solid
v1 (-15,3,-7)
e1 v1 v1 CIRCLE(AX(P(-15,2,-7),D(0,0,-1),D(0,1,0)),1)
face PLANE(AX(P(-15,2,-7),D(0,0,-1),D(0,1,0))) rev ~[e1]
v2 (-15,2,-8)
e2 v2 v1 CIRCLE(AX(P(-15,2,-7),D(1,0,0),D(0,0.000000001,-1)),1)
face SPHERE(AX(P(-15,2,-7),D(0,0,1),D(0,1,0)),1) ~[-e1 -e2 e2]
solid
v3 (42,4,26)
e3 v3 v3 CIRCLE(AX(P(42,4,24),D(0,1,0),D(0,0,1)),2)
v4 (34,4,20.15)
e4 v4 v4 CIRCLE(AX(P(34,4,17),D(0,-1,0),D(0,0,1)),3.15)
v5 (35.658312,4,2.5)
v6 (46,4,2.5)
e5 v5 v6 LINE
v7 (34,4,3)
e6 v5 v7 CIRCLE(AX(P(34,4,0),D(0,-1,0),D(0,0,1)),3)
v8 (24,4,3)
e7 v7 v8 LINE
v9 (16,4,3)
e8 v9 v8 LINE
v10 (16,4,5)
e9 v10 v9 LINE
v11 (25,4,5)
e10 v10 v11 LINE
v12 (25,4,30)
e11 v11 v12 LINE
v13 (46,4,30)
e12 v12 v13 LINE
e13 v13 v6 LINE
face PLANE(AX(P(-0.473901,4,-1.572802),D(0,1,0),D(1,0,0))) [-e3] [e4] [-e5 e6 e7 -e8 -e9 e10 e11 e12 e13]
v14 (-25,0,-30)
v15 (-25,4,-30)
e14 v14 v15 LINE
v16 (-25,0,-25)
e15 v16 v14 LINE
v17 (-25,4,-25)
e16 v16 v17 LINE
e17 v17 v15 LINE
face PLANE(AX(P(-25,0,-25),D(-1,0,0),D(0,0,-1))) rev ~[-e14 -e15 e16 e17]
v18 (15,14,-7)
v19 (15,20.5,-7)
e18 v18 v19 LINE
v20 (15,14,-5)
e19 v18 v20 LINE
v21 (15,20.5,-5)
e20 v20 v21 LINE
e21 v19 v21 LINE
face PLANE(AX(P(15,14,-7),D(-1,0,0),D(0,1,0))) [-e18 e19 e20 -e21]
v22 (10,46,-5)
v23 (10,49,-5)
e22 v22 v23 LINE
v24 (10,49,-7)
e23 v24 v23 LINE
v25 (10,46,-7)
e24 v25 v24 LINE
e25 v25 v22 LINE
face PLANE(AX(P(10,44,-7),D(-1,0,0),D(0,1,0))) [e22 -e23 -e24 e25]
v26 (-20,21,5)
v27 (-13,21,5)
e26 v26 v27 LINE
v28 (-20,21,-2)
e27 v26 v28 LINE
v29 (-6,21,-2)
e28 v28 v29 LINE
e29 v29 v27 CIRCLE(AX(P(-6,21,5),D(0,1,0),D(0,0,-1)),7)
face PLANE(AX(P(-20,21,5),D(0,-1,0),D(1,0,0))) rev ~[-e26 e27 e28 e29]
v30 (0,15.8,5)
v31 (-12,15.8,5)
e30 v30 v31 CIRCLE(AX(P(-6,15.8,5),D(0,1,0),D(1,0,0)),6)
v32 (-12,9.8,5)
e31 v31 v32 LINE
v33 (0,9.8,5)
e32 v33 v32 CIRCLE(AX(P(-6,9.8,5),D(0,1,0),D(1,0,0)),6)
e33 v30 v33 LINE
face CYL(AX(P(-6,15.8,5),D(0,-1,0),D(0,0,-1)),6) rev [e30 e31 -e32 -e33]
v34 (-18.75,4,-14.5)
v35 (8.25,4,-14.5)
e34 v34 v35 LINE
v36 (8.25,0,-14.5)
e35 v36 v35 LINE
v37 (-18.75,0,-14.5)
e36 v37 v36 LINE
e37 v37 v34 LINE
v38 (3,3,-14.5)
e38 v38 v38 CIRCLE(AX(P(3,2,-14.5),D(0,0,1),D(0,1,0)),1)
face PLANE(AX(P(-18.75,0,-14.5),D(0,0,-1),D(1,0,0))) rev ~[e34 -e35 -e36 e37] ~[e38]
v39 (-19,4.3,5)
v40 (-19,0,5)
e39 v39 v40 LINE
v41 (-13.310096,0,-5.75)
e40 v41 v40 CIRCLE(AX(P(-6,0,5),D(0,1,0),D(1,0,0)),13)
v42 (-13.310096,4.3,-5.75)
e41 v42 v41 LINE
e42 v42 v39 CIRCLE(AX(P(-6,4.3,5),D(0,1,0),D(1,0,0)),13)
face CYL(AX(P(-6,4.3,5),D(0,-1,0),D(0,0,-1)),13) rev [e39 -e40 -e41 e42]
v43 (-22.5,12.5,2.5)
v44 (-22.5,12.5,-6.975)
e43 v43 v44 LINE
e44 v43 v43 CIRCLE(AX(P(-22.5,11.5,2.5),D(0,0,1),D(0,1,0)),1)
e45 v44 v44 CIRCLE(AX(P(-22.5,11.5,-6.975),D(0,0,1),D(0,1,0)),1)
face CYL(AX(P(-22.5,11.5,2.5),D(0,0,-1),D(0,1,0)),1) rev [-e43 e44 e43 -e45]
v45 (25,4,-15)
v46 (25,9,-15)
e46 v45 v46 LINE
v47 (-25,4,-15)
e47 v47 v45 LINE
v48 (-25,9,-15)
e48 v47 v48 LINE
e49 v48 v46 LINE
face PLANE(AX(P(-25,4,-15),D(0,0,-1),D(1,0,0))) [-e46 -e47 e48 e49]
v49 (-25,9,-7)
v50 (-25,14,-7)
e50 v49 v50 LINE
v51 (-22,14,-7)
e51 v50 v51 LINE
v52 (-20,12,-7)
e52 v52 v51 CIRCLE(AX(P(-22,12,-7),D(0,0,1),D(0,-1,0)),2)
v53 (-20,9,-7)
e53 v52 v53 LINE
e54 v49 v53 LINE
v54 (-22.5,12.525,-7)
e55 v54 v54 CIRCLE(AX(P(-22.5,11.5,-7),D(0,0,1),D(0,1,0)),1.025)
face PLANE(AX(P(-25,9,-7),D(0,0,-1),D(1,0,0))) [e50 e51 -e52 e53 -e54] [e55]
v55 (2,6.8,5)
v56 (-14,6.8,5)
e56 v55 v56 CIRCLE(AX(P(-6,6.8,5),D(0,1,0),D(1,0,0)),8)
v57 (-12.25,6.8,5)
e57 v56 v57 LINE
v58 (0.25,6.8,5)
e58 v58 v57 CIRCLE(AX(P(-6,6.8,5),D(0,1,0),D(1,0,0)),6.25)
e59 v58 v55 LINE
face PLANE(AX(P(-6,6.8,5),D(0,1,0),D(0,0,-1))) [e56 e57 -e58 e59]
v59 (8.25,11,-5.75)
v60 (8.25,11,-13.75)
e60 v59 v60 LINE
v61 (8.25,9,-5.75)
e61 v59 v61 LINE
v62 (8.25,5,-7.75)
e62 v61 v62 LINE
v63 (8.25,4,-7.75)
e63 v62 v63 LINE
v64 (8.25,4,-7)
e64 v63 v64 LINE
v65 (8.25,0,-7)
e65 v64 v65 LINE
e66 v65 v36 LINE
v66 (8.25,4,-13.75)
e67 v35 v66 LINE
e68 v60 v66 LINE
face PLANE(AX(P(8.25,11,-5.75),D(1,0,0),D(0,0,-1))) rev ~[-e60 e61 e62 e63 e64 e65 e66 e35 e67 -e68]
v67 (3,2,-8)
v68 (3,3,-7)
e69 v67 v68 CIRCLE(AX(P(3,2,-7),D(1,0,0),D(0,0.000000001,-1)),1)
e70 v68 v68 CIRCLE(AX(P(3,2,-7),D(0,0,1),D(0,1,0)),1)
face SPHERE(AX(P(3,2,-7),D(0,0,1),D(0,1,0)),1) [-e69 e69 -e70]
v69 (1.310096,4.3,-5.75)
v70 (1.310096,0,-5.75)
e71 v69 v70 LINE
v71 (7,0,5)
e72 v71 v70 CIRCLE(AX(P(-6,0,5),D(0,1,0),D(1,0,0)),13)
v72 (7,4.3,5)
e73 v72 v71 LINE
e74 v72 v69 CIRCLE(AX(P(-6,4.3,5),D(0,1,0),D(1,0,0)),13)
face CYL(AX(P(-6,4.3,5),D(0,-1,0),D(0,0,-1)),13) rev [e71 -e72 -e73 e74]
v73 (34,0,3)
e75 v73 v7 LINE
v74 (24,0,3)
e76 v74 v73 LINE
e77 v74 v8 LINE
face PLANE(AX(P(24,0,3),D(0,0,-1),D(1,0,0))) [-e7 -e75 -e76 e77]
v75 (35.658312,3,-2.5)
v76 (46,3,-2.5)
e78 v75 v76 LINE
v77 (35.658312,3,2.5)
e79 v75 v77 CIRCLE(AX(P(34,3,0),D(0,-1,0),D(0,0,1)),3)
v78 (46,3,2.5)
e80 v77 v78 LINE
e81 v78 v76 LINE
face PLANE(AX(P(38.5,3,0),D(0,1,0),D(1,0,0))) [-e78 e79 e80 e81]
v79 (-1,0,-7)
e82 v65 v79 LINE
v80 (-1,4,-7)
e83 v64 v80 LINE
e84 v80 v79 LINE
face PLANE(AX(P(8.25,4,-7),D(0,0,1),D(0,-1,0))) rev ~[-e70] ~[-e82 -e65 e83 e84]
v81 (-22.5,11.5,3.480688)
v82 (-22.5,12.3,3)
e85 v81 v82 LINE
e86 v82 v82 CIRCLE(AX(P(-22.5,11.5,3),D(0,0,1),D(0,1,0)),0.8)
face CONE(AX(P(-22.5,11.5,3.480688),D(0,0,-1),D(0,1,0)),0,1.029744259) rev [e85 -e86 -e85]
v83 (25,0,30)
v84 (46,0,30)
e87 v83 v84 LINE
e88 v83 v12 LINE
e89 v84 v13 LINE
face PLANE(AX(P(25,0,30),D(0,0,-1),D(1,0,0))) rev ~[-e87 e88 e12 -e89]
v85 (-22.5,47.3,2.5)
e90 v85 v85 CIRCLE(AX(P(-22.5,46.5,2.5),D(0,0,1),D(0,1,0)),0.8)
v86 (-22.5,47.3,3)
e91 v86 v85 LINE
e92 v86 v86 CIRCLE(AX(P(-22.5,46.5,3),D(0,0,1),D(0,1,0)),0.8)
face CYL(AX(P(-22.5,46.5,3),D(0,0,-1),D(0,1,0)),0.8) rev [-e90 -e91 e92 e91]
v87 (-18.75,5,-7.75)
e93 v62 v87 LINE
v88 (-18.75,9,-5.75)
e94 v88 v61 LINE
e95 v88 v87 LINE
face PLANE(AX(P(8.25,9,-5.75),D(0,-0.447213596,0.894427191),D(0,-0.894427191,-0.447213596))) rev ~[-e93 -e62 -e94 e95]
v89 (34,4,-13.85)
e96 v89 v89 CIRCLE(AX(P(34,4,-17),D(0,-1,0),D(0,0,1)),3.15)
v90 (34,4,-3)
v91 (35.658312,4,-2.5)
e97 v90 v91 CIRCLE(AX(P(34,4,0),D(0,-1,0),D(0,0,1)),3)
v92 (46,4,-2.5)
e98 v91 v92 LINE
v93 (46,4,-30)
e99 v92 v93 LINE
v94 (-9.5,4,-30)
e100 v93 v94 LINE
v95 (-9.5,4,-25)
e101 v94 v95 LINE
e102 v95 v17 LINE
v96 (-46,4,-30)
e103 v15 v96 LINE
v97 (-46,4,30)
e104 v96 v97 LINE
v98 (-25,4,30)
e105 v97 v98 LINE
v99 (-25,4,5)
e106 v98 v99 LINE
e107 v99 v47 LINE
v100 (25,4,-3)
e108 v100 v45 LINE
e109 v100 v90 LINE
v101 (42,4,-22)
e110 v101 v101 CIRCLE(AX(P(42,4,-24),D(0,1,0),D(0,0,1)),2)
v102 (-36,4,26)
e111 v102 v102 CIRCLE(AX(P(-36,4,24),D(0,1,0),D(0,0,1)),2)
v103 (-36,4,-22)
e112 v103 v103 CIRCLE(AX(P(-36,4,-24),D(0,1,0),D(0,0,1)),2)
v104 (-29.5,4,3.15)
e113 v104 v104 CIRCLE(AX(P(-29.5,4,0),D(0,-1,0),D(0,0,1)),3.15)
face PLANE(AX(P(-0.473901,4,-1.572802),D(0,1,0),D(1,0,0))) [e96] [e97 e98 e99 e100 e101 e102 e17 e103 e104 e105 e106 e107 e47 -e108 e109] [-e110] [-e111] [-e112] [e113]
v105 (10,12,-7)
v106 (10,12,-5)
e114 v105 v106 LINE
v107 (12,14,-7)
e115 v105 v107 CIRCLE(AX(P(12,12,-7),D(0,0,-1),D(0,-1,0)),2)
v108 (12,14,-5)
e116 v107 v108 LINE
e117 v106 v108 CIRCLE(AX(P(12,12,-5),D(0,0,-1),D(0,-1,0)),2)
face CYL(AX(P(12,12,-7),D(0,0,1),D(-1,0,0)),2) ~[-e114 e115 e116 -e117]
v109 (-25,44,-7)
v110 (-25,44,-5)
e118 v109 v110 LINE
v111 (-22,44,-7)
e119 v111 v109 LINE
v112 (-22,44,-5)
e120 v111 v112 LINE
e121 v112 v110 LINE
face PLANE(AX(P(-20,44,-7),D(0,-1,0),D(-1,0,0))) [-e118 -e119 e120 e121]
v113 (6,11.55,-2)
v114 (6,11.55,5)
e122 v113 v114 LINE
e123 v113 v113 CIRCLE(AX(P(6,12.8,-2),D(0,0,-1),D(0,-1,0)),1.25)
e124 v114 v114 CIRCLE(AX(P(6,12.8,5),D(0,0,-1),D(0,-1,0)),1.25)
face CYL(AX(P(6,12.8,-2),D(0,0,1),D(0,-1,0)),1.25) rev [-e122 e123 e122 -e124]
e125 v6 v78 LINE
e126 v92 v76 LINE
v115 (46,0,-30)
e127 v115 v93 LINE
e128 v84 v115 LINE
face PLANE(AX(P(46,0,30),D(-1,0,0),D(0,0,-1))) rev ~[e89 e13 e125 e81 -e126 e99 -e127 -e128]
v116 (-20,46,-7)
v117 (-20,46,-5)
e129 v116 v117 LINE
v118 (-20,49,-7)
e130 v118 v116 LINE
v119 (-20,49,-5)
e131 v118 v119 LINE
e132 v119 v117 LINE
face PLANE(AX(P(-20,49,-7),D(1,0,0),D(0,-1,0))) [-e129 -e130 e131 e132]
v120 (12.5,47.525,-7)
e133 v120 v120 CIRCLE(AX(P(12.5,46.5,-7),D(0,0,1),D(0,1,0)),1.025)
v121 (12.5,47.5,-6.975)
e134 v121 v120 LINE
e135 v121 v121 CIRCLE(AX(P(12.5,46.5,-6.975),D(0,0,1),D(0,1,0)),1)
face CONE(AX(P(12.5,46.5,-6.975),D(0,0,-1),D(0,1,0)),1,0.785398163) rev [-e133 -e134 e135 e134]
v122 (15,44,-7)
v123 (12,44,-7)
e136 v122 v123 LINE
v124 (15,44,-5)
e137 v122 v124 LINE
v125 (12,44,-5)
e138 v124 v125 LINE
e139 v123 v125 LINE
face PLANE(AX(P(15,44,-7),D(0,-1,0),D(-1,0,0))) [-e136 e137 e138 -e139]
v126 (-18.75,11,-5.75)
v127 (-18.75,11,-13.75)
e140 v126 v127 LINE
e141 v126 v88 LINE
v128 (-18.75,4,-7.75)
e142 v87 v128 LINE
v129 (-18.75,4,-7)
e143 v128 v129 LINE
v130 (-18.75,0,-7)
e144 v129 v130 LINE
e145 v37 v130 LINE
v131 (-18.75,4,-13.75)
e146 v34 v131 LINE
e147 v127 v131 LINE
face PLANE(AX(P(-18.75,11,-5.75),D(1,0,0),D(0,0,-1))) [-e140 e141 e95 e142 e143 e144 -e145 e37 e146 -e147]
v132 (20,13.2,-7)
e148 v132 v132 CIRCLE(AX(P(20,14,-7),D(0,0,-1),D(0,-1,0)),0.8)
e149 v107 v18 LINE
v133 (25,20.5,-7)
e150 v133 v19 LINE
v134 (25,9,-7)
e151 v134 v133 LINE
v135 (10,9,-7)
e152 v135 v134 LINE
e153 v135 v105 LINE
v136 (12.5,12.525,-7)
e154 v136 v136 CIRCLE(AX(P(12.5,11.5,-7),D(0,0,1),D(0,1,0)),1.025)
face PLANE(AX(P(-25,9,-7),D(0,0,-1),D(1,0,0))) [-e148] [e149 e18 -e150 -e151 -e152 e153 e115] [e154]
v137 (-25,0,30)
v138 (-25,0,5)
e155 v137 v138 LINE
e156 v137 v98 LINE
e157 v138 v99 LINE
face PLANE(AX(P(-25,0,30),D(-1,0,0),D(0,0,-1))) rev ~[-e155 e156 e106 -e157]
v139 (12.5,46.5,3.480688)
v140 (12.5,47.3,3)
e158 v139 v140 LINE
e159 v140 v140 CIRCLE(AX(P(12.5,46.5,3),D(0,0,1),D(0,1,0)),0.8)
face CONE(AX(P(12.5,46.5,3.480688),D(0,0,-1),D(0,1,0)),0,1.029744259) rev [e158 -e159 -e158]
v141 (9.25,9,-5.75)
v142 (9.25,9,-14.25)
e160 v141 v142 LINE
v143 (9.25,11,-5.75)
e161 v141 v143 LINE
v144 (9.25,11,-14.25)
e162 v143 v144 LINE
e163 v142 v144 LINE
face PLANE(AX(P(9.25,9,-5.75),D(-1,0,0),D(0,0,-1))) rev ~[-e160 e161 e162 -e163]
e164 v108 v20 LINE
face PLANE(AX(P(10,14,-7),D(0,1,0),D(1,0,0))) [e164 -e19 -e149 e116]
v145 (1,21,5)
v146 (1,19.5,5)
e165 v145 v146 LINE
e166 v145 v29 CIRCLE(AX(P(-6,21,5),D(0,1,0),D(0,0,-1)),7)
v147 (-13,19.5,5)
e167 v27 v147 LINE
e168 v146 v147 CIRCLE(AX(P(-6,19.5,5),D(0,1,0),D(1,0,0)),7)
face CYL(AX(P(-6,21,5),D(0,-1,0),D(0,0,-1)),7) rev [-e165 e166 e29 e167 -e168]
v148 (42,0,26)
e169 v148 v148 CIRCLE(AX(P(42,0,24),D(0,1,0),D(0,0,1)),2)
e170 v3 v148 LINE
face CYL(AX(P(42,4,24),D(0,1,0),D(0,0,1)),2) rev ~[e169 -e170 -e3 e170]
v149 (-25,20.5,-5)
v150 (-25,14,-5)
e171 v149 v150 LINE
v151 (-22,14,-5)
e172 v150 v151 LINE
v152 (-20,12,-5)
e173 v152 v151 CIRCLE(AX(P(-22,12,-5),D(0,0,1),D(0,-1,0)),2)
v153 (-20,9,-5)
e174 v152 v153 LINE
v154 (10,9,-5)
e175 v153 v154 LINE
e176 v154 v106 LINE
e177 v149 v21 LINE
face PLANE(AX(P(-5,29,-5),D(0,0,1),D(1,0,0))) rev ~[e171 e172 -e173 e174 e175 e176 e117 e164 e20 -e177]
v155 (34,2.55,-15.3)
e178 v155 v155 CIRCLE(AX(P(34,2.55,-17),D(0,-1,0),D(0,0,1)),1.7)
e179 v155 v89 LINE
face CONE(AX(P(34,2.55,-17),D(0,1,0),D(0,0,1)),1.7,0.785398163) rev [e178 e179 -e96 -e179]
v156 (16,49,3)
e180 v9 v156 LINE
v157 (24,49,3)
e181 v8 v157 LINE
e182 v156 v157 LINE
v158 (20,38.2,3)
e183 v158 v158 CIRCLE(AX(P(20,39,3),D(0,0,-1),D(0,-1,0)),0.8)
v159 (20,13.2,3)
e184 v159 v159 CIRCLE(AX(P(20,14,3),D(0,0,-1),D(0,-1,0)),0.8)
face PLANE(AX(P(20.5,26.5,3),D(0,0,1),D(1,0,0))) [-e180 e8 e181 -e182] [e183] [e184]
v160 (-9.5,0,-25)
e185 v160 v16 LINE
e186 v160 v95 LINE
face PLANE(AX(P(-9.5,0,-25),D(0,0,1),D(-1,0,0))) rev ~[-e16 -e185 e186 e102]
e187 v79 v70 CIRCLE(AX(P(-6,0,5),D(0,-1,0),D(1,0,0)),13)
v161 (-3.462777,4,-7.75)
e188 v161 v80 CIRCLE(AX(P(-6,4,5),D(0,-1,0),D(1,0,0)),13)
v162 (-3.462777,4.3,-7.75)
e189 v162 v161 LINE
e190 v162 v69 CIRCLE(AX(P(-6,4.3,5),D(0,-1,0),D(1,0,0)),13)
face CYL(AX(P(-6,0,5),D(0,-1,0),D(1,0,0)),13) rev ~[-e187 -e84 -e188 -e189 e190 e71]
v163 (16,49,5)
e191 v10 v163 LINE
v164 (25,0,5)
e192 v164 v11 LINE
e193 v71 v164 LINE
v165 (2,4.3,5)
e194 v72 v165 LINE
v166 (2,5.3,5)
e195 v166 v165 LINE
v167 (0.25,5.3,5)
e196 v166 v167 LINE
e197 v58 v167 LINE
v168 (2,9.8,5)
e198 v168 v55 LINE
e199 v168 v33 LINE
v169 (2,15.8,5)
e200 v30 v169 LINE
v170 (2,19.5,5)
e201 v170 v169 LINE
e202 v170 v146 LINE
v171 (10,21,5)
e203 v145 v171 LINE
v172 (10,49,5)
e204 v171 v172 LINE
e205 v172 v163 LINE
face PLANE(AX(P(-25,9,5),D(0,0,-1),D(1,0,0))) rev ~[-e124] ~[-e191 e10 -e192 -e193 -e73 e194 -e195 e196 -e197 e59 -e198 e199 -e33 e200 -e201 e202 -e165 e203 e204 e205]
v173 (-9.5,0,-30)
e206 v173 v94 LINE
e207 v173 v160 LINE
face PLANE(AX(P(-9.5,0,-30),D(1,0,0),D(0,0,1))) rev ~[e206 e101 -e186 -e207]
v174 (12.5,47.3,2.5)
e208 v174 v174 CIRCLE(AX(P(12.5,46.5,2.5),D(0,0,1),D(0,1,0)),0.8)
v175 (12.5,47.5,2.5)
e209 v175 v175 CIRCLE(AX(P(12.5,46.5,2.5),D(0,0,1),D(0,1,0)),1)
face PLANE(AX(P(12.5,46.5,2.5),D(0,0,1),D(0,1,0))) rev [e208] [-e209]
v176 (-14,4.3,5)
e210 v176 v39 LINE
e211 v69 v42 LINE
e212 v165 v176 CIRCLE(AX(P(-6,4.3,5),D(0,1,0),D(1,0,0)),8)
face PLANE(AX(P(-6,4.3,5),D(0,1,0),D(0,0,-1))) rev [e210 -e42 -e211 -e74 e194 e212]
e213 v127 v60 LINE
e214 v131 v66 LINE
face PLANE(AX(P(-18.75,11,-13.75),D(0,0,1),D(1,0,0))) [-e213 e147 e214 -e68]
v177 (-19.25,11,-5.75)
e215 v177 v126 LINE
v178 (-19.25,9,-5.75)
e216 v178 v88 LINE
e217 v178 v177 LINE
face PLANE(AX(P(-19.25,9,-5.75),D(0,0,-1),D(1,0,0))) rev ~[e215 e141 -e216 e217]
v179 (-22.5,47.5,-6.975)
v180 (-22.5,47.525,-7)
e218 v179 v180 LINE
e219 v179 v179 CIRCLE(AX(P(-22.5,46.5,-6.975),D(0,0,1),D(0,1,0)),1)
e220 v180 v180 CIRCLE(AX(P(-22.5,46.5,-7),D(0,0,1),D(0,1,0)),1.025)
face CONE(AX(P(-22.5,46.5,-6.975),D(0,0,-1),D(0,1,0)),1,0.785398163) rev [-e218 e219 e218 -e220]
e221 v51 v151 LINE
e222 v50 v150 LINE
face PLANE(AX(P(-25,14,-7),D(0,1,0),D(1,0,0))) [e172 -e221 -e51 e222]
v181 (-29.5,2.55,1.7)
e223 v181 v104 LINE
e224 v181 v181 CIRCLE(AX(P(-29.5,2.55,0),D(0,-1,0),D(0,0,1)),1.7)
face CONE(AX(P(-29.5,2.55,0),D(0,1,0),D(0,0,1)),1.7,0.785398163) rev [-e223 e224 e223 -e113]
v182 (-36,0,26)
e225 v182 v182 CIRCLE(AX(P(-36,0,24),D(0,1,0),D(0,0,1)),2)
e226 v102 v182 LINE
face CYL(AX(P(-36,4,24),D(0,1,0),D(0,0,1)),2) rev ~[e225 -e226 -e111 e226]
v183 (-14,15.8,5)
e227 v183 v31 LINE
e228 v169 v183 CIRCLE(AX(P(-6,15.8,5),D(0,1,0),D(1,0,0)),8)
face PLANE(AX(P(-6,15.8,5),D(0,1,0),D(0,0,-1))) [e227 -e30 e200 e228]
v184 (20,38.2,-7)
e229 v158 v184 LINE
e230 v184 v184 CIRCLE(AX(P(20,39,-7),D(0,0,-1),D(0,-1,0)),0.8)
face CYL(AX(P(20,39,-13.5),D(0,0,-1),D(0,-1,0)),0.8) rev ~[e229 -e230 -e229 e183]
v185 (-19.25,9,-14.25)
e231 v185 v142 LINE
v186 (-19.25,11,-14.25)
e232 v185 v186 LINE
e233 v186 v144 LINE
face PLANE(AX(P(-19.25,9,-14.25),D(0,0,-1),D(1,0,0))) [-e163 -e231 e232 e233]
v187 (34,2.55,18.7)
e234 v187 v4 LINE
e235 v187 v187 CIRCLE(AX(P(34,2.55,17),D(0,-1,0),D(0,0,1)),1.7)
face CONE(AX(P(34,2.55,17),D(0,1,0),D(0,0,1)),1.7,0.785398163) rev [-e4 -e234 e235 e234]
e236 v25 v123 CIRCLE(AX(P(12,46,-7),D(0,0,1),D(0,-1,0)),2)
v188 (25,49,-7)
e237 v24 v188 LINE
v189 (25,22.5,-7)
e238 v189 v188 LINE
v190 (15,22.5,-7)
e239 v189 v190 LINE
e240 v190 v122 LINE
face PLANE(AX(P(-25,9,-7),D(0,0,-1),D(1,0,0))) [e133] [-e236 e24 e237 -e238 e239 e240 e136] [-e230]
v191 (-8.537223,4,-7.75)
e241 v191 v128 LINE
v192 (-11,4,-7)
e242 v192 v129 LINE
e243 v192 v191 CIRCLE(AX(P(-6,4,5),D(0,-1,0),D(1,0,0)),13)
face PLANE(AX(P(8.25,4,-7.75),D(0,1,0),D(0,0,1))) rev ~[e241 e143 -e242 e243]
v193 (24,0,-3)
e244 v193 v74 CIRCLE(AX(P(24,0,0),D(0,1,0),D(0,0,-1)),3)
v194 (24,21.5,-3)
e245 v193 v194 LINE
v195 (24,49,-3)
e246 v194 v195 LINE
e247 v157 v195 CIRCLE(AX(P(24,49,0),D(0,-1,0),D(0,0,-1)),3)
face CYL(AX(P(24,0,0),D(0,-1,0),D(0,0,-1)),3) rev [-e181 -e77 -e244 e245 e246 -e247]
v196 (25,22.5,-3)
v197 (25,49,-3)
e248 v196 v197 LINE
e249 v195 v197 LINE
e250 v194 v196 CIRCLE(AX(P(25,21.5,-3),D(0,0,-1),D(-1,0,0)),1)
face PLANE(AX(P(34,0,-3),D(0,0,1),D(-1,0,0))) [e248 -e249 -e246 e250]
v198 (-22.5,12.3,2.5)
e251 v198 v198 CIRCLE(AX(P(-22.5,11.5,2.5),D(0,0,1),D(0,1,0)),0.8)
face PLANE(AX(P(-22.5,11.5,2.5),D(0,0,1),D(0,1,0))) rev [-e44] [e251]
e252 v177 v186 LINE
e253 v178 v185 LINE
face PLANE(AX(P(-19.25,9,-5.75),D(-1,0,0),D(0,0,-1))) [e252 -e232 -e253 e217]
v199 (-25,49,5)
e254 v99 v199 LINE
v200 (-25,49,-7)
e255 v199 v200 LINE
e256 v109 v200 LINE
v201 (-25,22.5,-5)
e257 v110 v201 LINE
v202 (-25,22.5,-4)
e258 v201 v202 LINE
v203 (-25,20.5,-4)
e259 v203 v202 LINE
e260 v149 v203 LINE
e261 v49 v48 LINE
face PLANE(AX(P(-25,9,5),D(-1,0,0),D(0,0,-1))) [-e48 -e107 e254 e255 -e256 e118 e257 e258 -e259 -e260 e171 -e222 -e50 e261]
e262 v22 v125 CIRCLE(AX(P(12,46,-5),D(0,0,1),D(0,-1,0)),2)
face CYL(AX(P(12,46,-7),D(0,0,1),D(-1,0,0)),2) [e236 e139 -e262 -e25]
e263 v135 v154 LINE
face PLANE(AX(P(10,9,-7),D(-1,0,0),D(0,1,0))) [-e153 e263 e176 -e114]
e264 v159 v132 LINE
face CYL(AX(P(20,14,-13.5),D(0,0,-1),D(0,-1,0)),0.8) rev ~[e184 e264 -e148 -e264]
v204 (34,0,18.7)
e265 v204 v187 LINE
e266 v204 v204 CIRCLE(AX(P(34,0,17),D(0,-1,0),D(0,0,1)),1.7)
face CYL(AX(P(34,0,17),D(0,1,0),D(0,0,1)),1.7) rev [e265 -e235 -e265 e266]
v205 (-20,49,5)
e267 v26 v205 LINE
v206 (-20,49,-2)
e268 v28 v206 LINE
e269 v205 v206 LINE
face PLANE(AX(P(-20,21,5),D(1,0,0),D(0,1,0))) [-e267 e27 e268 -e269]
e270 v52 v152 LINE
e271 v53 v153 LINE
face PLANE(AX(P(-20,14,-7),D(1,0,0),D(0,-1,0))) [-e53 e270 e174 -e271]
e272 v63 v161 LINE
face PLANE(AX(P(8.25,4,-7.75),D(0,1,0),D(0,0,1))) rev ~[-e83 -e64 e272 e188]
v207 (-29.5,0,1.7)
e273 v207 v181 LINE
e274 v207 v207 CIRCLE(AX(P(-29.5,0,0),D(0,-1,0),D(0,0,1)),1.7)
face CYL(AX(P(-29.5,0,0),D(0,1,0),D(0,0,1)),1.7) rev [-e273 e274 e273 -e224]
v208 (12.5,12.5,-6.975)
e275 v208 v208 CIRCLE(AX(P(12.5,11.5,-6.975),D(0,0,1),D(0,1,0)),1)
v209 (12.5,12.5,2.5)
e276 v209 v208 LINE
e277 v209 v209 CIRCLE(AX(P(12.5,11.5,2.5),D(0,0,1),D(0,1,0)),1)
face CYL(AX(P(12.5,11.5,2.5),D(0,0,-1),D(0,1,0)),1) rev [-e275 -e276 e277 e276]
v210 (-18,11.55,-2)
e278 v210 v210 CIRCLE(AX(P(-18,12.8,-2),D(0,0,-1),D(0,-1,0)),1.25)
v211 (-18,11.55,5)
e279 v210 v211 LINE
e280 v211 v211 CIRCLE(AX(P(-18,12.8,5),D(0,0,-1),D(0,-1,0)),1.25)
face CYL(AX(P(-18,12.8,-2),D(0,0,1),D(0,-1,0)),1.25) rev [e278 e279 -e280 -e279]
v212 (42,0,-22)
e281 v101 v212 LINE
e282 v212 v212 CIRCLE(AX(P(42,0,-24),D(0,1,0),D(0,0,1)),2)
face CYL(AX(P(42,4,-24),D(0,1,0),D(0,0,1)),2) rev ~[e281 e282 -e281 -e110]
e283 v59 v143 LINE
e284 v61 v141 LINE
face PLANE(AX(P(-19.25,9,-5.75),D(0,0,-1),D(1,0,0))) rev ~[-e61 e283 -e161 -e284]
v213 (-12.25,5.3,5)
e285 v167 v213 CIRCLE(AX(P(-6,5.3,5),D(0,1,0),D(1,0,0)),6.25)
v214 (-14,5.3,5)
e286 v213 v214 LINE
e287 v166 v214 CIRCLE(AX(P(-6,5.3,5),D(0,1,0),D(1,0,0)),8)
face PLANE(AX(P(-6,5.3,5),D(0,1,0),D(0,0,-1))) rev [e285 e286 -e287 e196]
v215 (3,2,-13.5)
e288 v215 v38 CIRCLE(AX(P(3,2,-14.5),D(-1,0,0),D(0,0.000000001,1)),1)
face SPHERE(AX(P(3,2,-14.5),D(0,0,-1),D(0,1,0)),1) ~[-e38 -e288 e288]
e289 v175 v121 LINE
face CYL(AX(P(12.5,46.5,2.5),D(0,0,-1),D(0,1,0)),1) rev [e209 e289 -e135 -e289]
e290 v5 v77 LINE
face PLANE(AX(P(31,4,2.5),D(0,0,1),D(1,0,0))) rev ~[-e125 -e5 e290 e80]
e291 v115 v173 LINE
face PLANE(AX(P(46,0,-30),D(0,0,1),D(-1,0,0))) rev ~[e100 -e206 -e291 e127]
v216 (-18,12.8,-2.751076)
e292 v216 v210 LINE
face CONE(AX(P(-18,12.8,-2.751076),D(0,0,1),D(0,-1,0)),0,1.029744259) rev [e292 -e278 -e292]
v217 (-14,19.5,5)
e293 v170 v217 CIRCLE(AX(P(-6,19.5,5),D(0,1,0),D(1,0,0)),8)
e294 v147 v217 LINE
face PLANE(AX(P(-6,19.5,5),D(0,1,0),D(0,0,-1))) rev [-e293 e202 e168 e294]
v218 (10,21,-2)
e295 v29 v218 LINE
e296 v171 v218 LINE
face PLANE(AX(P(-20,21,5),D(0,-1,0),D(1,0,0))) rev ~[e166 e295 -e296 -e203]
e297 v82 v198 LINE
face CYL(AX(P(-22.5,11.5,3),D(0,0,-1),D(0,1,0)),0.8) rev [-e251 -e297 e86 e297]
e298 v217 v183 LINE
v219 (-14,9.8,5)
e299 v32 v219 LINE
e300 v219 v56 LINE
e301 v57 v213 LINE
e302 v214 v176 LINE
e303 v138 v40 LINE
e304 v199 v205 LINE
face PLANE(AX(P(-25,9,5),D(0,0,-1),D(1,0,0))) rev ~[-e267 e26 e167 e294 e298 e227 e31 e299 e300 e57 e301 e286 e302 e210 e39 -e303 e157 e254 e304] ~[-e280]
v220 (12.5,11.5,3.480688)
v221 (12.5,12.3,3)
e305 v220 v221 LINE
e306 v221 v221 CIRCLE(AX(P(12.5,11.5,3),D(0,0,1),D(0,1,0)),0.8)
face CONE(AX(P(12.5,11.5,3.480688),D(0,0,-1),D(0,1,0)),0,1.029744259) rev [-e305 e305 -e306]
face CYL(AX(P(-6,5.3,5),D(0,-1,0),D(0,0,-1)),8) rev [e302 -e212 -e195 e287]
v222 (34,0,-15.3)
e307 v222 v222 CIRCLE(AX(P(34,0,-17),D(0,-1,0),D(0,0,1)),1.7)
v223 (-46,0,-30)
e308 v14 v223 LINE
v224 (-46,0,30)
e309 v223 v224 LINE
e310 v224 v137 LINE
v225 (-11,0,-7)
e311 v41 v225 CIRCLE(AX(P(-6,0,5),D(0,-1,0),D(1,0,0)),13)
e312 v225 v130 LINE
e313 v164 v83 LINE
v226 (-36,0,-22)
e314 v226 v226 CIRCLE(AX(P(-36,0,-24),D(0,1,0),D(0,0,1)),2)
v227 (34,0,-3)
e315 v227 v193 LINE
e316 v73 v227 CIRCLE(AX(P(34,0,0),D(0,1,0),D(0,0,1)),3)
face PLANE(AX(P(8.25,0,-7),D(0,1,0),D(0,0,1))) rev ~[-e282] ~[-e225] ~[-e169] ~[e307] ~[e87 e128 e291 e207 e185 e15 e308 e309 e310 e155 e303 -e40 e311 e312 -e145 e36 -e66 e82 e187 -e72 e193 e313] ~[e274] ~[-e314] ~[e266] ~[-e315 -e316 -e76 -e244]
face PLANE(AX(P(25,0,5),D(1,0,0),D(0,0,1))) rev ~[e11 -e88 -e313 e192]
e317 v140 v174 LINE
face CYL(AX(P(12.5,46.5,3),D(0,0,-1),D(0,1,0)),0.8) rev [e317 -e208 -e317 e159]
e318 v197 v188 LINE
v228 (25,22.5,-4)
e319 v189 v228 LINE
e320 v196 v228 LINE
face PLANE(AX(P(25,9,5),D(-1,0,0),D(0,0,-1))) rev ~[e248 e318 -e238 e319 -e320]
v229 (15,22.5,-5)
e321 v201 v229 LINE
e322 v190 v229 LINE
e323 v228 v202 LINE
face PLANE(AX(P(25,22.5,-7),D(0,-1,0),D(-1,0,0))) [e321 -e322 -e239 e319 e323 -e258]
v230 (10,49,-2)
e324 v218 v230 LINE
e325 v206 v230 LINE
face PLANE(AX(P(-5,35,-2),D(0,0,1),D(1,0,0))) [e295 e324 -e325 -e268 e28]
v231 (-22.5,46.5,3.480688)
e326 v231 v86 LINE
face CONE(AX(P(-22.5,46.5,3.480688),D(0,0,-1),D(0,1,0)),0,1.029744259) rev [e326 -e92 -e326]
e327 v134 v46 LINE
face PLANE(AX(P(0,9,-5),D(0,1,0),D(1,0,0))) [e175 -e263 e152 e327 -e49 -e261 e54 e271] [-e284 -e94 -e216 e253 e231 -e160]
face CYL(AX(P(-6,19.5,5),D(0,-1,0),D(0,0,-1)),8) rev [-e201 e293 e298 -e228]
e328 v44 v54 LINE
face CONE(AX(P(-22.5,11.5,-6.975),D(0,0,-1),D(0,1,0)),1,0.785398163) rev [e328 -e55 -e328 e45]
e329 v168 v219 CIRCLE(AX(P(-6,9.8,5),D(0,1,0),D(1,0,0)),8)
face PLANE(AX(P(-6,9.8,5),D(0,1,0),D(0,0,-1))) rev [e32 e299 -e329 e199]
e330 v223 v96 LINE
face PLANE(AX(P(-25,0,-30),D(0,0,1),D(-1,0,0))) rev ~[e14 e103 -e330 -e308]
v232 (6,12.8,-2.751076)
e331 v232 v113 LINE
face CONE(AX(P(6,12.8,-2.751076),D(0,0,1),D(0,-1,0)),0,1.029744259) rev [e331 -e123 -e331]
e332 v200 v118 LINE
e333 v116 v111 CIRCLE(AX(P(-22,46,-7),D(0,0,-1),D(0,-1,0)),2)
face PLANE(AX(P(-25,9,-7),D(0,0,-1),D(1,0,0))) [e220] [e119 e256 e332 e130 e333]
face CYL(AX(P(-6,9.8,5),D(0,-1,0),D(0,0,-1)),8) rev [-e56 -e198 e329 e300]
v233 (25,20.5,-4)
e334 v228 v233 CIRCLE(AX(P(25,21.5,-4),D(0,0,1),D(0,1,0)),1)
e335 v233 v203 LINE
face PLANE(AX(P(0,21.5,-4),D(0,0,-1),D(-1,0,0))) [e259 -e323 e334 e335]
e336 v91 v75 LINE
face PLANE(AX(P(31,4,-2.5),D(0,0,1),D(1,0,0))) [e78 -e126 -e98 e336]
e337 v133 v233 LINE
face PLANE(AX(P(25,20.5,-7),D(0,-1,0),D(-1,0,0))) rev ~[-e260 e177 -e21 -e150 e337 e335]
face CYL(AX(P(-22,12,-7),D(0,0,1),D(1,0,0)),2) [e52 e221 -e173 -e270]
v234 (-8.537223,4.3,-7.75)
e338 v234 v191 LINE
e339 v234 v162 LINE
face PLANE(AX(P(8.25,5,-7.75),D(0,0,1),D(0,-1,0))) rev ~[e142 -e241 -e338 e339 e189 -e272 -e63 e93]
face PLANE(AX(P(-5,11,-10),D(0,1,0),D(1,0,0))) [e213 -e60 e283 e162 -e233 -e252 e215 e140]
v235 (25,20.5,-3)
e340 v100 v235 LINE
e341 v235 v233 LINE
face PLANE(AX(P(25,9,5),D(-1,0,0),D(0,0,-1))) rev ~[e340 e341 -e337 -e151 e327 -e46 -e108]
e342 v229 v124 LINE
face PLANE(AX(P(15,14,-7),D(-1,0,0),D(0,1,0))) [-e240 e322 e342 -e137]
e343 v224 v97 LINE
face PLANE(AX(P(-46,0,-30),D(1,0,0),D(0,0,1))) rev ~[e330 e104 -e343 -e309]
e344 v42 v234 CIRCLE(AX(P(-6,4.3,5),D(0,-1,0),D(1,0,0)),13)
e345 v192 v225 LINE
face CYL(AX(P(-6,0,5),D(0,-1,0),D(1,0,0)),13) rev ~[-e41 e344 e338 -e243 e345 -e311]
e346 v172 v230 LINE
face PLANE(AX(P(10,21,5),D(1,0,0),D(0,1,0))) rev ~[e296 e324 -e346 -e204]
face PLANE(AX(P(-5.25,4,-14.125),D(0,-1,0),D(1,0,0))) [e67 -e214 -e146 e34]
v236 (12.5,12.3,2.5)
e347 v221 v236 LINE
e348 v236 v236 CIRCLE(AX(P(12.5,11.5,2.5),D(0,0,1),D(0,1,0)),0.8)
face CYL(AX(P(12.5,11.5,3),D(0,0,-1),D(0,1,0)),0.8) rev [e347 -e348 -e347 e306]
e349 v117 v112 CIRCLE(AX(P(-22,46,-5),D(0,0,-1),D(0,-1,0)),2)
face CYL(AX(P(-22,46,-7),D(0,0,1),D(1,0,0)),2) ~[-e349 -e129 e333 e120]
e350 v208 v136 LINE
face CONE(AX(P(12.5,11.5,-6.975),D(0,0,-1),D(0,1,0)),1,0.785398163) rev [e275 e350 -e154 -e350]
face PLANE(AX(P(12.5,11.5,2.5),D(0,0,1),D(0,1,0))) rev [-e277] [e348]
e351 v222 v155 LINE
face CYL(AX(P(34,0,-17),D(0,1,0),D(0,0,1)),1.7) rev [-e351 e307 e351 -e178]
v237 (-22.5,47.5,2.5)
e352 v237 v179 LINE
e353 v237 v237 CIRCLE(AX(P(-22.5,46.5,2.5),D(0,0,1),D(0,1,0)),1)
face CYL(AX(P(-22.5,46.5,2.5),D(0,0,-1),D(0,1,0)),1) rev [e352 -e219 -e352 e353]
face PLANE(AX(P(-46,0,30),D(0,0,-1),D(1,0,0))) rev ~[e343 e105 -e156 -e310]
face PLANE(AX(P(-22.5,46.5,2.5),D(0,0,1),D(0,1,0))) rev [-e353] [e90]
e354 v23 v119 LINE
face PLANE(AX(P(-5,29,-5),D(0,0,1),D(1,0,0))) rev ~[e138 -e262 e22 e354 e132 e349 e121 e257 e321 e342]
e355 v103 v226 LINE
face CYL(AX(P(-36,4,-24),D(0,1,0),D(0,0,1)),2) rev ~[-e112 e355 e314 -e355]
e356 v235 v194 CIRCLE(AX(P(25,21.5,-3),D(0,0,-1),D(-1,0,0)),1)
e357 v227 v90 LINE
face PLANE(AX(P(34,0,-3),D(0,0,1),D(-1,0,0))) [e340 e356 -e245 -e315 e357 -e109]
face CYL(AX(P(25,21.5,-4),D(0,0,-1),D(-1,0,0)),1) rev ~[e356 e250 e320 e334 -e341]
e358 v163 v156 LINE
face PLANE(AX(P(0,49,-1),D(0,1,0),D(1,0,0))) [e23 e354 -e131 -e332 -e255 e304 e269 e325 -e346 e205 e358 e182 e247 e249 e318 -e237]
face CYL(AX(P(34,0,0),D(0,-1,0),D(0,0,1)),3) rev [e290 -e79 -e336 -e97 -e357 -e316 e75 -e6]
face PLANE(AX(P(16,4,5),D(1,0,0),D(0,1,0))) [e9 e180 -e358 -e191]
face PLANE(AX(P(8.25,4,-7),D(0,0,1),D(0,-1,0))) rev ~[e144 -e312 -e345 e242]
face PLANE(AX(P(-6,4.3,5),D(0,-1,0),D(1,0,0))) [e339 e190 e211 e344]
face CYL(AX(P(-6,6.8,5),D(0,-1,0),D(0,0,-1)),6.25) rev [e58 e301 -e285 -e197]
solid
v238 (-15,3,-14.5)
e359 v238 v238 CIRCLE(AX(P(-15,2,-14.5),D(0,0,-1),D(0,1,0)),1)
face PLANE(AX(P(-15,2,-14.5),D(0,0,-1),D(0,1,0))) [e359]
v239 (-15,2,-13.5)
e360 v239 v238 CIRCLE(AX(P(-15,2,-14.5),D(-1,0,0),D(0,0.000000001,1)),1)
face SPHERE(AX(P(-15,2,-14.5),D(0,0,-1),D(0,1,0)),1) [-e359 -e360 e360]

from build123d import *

# Parameters (mm, degrees)
BOSS_EXTRUDE1_DEPTH                          = 4
SKETCH2_W                                    = 50
SKETCH2_H                                    = 20
BOSS_EXTRUDE2_DEPTH                          = 5
SKETCH3_W                                    = 50
SKETCH3_H                                    = 12
BOSS_EXTRUDE3_DEPTH                          = 40
CUT_EXTRUDE1_DEPTH                           = 2
SKETCH5_W                                    = 30
SKETCH5_H                                    = 28
CUT_EXTRUDE2_DEPTH                           = 7
CUT_EXTRUDE3_DEPTH                           = 55
SKETCH8_W                                    = 9
SKETCH8_H                                    = 45
CUT_EXTRUDE4_DEPTH                           = 2
SKETCH9_W                                    = 50
SKETCH9_H                                    = 2
CUT_EXTRUDE5_DEPTH                           = 3
SKETCH10_R                                   = 1
CUT_EXTRUDE6_DEPTH                           = 2
SKETCH11_W                                   = 15
SKETCH11_H                                   = 5
CUT_EXTRUDE7_DEPTH                           = 1
SKETCH12_W                                   = 28.5
SKETCH12_H                                   = 8.5
BOSS_EXTRUDE4_DEPTH                          = 2
SKETCH13_W                                   = 27
SKETCH13_H                                   = 8
CUT_EXTRUDE8_DEPTH                           = 15
BOSS_EXTRUDE5_DEPTH                          = 27
SKETCH31_W                                   = 27
SKETCH31_H                                   = 0.75
CUT_EXTRUDE26_DEPTH                          = 4
M3_TAPPED_HOLE1_AT_2_COUNT                   = 2
M3_TAPPED_HOLE1_AT_2_PITCH                   = 24
SKETCH25_W                                   = 0.8
SKETCH25_H                                   = 33
M2_TAPPED_HOLE1_AT_2_COUNT                   = 2
M2_TAPPED_HOLE1_AT_2_PITCH                   = 25
SKETCH26_R                                   = 2
CUT_EXTRUDE25_DEPTH                          = 5
LPATTERN2_COUNT                              = 2
LPATTERN2_PITCH                              = 78
LPATTERN2_COUNT_DIR2                         = 2
LPATTERN2_PITCH_DIR2                         = 48
CSK_FOR_M3_COUNTERSUNK_FLAT_HEAD_SCR_2_COUNT = 2
CSK_FOR_M3_COUNTERSUNK_FLAT_HEAD_SCR_2_PITCH = 65.736215285
CSK_FOR_M3_COUNTERSUNK_FLAT_HEAD_SCR_3_COUNT = 2
CSK_FOR_M3_COUNTERSUNK_FLAT_HEAD_SCR_3_PITCH = 65.736215285
LPATTERN3_COUNT                              = 2
LPATTERN3_PITCH                              = 35
LPATTERN3_COUNT_DIR2                         = 2
LPATTERN3_PITCH_DIR2                         = 35
FILLET1_R                                    = 2
SKETCH32_R                                   = 13
CUT_EXTRUDE27_DEPTH                          = 4.3


with BuildPart() as part:
    # Sketch1 → Boss-Extrude1 (new body)
    with BuildSketch(Plane(origin=(0, 0, 0), x_dir=(1, 0, 0), z_dir=(0, 1, 0))):
        Polygon((25, -30), (46, -30), (46, 30), (-9.5, 30), (-9.5, 25), (-25, 25), (-25, 30), (-46, 30), (-46, -30), (-25, -30), (-25, -5), (25, -5), align=None)
    extrude(amount=BOSS_EXTRUDE1_DEPTH)

    # Sketch2 → Boss-Extrude2 (add)
    with BuildSketch(Plane(origin=(0, 4, 0), x_dir=(1, 0, 0), z_dir=(0, 1, 0))):
        with Locations((0, 5)):
            Rectangle(SKETCH2_W, SKETCH2_H)
    extrude(amount=BOSS_EXTRUDE2_DEPTH)

    # Sketch3 → Boss-Extrude3 (add)
    with BuildSketch(Plane(origin=(0, 9, 0), x_dir=(1, 0, 0), z_dir=(0, 1, 0))):
        with Locations((0, 1)):
            Rectangle(SKETCH3_W, SKETCH3_H)
    extrude(amount=BOSS_EXTRUDE3_DEPTH)

    # Sketch4 → Cut-Extrude1 (cut)
    with BuildSketch(Plane(origin=(0, 0, -7), x_dir=(-1, 0, 0), z_dir=(0, 0, -1))):
        Polygon((-10, 49), (20, 49), (20, 44), (25, 44), (25, 14), (20, 14), (20, 9), (-10, 9), (-10, 14), (-15, 14), (-15, 44), (-10, 44), align=None)
    extrude(amount=-CUT_EXTRUDE1_DEPTH, mode=Mode.SUBTRACT)

    # Sketch5 → Cut-Extrude2 (cut)
    with BuildSketch(Plane.XY.offset(5)):
        with Locations((-5, 35)):
            Rectangle(SKETCH5_W, SKETCH5_H)
    extrude(amount=-CUT_EXTRUDE2_DEPTH, mode=Mode.SUBTRACT)

    # Sketch6 → Cut-Revolve1 (revolve, cut)
    with BuildSketch(Plane.ZY.offset(6)):
        Polygon((5, 0), (5, 21), (-2, 21), (-2, 19.5), (-3, 19.5), (-3, 15.8), (-1, 15.8), (-1, 9.8), (-3, 9.8), (-3, 6.8), (-1.25, 6.8), (-1.25, 5.3), (-3, 5.3), (-3, 4.3), (-8, 4.3), (-8, 0), align=None)
    revolve(axis=Axis((-6, 0, 5), (0, 1, 0)), mode=Mode.SUBTRACT)

    # Sketch7 → Cut-Extrude3 (cut)
    with BuildSketch(Plane.XZ):
        with BuildLine():
            Line((34, -3), (24, -3))
            ThreePointArc((24, -3), (21, 0), (24, 3))
            Line((24, 3), (34, 3))
            ThreePointArc((34, 3), (37, 0), (34, -3))
        make_face()
    extrude(amount=-CUT_EXTRUDE3_DEPTH, mode=Mode.SUBTRACT)

    # Sketch8 → Cut-Extrude4 (cut)
    with BuildSketch(Plane.XY.offset(5)):
        with Locations((20.5, 26.5)):
            Rectangle(SKETCH8_W, SKETCH8_H)
    extrude(amount=-CUT_EXTRUDE4_DEPTH, mode=Mode.SUBTRACT)

    # Sketch9 → Cut-Extrude5 (cut)
    with BuildSketch(Plane(origin=(0, 0, -7), x_dir=(-1, 0, 0), z_dir=(0, 0, -1))):
        with Locations((0, 21.5)):
            Rectangle(SKETCH9_W, SKETCH9_H)
    extrude(amount=-CUT_EXTRUDE5_DEPTH, mode=Mode.SUBTRACT)

    # Sketch10 → Cut-Extrude6 (cut)
    with BuildSketch(Plane(origin=(0, 0, -4), x_dir=(-1, 0, 0), z_dir=(0, 0, -1))):
        with Locations((-25, 21.5)):
            Circle(SKETCH10_R)
    extrude(amount=-CUT_EXTRUDE6_DEPTH, mode=Mode.SUBTRACT)

    # Sketch11 → Cut-Extrude7 (cut)
    with BuildSketch(Plane(origin=(0, 4, 0), x_dir=(1, 0, 0), z_dir=(0, 1, 0))):
        with Locations((38.5, 0)):
            Rectangle(SKETCH11_W, SKETCH11_H)
    extrude(amount=-CUT_EXTRUDE7_DEPTH, mode=Mode.SUBTRACT)

    # Sketch12 → Boss-Extrude4 (add)
    with BuildSketch(Plane(origin=(0, 9, 0), x_dir=(1, 0, 0), z_dir=(0, 1, 0))):
        with Locations((-5, 10)):
            Rectangle(SKETCH12_W, SKETCH12_H)
    extrude(amount=BOSS_EXTRUDE4_DEPTH)

    # Sketch13 → Cut-Extrude8 (cut)
    with BuildSketch(Plane(origin=(0, 11, 0), x_dir=(1, 0, 0), z_dir=(0, 1, 0))):
        with Locations((-5.25, 9.75)):
            Rectangle(SKETCH13_W, SKETCH13_H)
    extrude(amount=-CUT_EXTRUDE8_DEPTH, mode=Mode.SUBTRACT)

    # Sketch18 → Boss-Extrude5 (add)
    with BuildSketch(Plane.ZY.offset(-8.25)):
        Polygon((-7, 4), (-7, 0), (-5.75, 0), (-5.75, 9), (-7.75, 5), (-7.75, 4), align=None)
    extrude(amount=BOSS_EXTRUDE5_DEPTH)

    # Sketch31 → Cut-Extrude26 (cut)
    with BuildSketch(Plane.XZ):
        with Locations((-5.25, -14.125)):
            Rectangle(SKETCH31_W, SKETCH31_H)
    extrude(amount=-CUT_EXTRUDE26_DEPTH, mode=Mode.SUBTRACT)

    # Sketch21 → Revolve2 (revolve)
    with BuildSketch(Plane.ZY.offset(-3)):
        with BuildLine():
            Line((-14.5, 3), (-14.5, 2))
            Line((-14.5, 2), (-13.5, 2))
            ThreePointArc((-13.5, 2), (-13.792893219, 2.707106781), (-14.5, 3))
        make_face()
        with BuildLine():
            Line((-7, 3), (-7, 2))
            Line((-7, 2), (-8, 2))
            ThreePointArc((-8, 2), (-7.707106781, 2.707106781), (-7, 3))
        make_face()
    revolve(axis=Axis((3, 2, -14.5), (0, 0, 1)))

    # Sketch23 → M3 Tapped Hole1 (revolve, cut)
    with BuildSketch(Plane(origin=(-18, 12.8, 5), x_dir=(0, -1, 0), z_dir=(1, 0, 0))):
        Polygon((0, 0), (0, 7.751075774), (1.25, 7), (1.25, 0), align=None)
    m3_tapped_hole1 = revolve(axis=Axis((-18, 12.8, 11.35), (0, 0, -1)), mode=Mode.SUBTRACT)

    # M3 Tapped Hole1 at 2: M3 Tapped Hole1 ×2
    with Locations(*[(i * M3_TAPPED_HOLE1_AT_2_PITCH, 0, 0) for i in range(1, M3_TAPPED_HOLE1_AT_2_COUNT)]):
        add(m3_tapped_hole1, mode=Mode.SUBTRACT)

    # Sketch25 → M2 Tapped Hole1 (revolve, cut)
    with BuildSketch(Plane(origin=(20, 39, 3), x_dir=(0, -1, 0), z_dir=(1, 0, 0))):
        with Locations((0.4, 16.5)):
            Rectangle(SKETCH25_W, SKETCH25_H)
    m2_tapped_hole1 = revolve(axis=Axis((20, 39, 9.35), (0, 0, -1)), mode=Mode.SUBTRACT)

    # M2 Tapped Hole1 at 2: M2 Tapped Hole1 ×2
    with Locations(*[(0, -i * M2_TAPPED_HOLE1_AT_2_PITCH, 0) for i in range(1, M2_TAPPED_HOLE1_AT_2_COUNT)]):
        add(m2_tapped_hole1, mode=Mode.SUBTRACT)

    # Sketch26 → Cut-Extrude25 (cut)
    with BuildSketch(Plane(origin=(0, 4, 0), x_dir=(1, 0, 0), z_dir=(0, 1, 0))):
        with Locations(Location((-36, 24, 0), (0, 0, 270))):
            Circle(SKETCH26_R)
    cut_extrude25 = extrude(amount=-CUT_EXTRUDE25_DEPTH, mode=Mode.SUBTRACT)

    # LPattern2: Cut-Extrude25 2 × 2
    with Locations(*[(i * LPATTERN2_PITCH, 0, j * LPATTERN2_PITCH_DIR2) for i in range(LPATTERN2_COUNT) for j in range(LPATTERN2_COUNT_DIR2) if (i, j) != (0, 0)]):
        add(cut_extrude25, mode=Mode.SUBTRACT)

    # Sketch28 → CSK for M3 Countersunk Flat Head Screw1 (revolve, cut)
    with BuildSketch(Plane(origin=(-29.5, 4, 0), x_dir=(0, 0, 1), z_dir=(1, 0, 0))):
        Polygon((0, 0), (0, 4), (1.7, 4), (1.7, 1.45), (3.15, 0), align=None)
    csk_for_m3_countersunk_flat_head_screw1 = revolve(axis=Axis((-29.5, 10.35, 0), (0, -1, 0)), mode=Mode.SUBTRACT)

    # CSK for M3 Countersunk Flat Head Scr 2: CSK for M3 Countersunk Flat Head Screw1 ×2
    with Locations(*[Vector(0.9659819891465423, 0, -0.25860935142505853) * (i * CSK_FOR_M3_COUNTERSUNK_FLAT_HEAD_SCR_2_PITCH) for i in range(1, CSK_FOR_M3_COUNTERSUNK_FLAT_HEAD_SCR_2_COUNT)]):
        add(csk_for_m3_countersunk_flat_head_screw1, mode=Mode.SUBTRACT)

    # CSK for M3 Countersunk Flat Head Scr 3: CSK for M3 Countersunk Flat Head Screw1 ×2
    with Locations(*[Vector(0.9659819891465423, 0, 0.25860935142505864) * (i * CSK_FOR_M3_COUNTERSUNK_FLAT_HEAD_SCR_3_PITCH) for i in range(1, CSK_FOR_M3_COUNTERSUNK_FLAT_HEAD_SCR_3_COUNT)]):
        add(csk_for_m3_countersunk_flat_head_screw1, mode=Mode.SUBTRACT)

    # Sketch30 → M2 Tapped Hole2 (revolve, cut)
    with BuildSketch(Plane(origin=(-22.5, 46.5, -7), x_dir=(0, 1, 0), z_dir=(1, 0, 0))):
        Polygon((0, 0), (0, 10.480688495), (0.8, 10), (0.8, 9.5), (1, 9.5), (1, 0.025), (1.025, 0), align=None)
    m2_tapped_hole2 = revolve(axis=Axis((-22.5, 46.5, -13.35), (0, 0, 1)), mode=Mode.SUBTRACT)

    # LPattern3: M2 Tapped Hole2 2 × 2
    with Locations(*[(i * LPATTERN3_PITCH, -j * LPATTERN3_PITCH_DIR2, 0) for i in range(LPATTERN3_COUNT) for j in range(LPATTERN3_COUNT_DIR2) if (i, j) != (0, 0)]):
        add(m2_tapped_hole2, mode=Mode.SUBTRACT)

    # Fillet1
    fillet1_edges = [part.edges().sort_by_distance(p)[0] for p in [
        (10, 44, -6),
        (-20, 44, -6),
        (-20, 14, -6),
        (10, 14, -6),
    ]]
    fillet(fillet1_edges, radius=FILLET1_R)

    # Sketch32 → Cut-Extrude27 (cut)
    with BuildSketch(Plane.XZ):
        with Locations((-6, 5)):
            Circle(SKETCH32_R)
    extrude(amount=-CUT_EXTRUDE27_DEPTH, mode=Mode.SUBTRACT)


with BuildPart() as body_2:
    # Sketch20 → Revolve1 (revolve)
    with BuildSketch(Plane.ZY.offset(15)):
        with BuildLine():
            Line((-14.5, 3), (-14.5, 2))
            Line((-14.5, 2), (-13.5, 2))
            ThreePointArc((-13.5, 2), (-13.792893219, 2.707106781), (-14.5, 3))
        make_face()
        with BuildLine():
            Line((-7, 3), (-7, 2))
            Line((-7, 2), (-8, 2))
            ThreePointArc((-8, 2), (-7.707106781, 2.707106781), (-7, 3))
        make_face()
    revolve(axis=Axis((-15, 2, -7), (0, 0, -1)))


solid = Compound([part.part, body_2.part])
